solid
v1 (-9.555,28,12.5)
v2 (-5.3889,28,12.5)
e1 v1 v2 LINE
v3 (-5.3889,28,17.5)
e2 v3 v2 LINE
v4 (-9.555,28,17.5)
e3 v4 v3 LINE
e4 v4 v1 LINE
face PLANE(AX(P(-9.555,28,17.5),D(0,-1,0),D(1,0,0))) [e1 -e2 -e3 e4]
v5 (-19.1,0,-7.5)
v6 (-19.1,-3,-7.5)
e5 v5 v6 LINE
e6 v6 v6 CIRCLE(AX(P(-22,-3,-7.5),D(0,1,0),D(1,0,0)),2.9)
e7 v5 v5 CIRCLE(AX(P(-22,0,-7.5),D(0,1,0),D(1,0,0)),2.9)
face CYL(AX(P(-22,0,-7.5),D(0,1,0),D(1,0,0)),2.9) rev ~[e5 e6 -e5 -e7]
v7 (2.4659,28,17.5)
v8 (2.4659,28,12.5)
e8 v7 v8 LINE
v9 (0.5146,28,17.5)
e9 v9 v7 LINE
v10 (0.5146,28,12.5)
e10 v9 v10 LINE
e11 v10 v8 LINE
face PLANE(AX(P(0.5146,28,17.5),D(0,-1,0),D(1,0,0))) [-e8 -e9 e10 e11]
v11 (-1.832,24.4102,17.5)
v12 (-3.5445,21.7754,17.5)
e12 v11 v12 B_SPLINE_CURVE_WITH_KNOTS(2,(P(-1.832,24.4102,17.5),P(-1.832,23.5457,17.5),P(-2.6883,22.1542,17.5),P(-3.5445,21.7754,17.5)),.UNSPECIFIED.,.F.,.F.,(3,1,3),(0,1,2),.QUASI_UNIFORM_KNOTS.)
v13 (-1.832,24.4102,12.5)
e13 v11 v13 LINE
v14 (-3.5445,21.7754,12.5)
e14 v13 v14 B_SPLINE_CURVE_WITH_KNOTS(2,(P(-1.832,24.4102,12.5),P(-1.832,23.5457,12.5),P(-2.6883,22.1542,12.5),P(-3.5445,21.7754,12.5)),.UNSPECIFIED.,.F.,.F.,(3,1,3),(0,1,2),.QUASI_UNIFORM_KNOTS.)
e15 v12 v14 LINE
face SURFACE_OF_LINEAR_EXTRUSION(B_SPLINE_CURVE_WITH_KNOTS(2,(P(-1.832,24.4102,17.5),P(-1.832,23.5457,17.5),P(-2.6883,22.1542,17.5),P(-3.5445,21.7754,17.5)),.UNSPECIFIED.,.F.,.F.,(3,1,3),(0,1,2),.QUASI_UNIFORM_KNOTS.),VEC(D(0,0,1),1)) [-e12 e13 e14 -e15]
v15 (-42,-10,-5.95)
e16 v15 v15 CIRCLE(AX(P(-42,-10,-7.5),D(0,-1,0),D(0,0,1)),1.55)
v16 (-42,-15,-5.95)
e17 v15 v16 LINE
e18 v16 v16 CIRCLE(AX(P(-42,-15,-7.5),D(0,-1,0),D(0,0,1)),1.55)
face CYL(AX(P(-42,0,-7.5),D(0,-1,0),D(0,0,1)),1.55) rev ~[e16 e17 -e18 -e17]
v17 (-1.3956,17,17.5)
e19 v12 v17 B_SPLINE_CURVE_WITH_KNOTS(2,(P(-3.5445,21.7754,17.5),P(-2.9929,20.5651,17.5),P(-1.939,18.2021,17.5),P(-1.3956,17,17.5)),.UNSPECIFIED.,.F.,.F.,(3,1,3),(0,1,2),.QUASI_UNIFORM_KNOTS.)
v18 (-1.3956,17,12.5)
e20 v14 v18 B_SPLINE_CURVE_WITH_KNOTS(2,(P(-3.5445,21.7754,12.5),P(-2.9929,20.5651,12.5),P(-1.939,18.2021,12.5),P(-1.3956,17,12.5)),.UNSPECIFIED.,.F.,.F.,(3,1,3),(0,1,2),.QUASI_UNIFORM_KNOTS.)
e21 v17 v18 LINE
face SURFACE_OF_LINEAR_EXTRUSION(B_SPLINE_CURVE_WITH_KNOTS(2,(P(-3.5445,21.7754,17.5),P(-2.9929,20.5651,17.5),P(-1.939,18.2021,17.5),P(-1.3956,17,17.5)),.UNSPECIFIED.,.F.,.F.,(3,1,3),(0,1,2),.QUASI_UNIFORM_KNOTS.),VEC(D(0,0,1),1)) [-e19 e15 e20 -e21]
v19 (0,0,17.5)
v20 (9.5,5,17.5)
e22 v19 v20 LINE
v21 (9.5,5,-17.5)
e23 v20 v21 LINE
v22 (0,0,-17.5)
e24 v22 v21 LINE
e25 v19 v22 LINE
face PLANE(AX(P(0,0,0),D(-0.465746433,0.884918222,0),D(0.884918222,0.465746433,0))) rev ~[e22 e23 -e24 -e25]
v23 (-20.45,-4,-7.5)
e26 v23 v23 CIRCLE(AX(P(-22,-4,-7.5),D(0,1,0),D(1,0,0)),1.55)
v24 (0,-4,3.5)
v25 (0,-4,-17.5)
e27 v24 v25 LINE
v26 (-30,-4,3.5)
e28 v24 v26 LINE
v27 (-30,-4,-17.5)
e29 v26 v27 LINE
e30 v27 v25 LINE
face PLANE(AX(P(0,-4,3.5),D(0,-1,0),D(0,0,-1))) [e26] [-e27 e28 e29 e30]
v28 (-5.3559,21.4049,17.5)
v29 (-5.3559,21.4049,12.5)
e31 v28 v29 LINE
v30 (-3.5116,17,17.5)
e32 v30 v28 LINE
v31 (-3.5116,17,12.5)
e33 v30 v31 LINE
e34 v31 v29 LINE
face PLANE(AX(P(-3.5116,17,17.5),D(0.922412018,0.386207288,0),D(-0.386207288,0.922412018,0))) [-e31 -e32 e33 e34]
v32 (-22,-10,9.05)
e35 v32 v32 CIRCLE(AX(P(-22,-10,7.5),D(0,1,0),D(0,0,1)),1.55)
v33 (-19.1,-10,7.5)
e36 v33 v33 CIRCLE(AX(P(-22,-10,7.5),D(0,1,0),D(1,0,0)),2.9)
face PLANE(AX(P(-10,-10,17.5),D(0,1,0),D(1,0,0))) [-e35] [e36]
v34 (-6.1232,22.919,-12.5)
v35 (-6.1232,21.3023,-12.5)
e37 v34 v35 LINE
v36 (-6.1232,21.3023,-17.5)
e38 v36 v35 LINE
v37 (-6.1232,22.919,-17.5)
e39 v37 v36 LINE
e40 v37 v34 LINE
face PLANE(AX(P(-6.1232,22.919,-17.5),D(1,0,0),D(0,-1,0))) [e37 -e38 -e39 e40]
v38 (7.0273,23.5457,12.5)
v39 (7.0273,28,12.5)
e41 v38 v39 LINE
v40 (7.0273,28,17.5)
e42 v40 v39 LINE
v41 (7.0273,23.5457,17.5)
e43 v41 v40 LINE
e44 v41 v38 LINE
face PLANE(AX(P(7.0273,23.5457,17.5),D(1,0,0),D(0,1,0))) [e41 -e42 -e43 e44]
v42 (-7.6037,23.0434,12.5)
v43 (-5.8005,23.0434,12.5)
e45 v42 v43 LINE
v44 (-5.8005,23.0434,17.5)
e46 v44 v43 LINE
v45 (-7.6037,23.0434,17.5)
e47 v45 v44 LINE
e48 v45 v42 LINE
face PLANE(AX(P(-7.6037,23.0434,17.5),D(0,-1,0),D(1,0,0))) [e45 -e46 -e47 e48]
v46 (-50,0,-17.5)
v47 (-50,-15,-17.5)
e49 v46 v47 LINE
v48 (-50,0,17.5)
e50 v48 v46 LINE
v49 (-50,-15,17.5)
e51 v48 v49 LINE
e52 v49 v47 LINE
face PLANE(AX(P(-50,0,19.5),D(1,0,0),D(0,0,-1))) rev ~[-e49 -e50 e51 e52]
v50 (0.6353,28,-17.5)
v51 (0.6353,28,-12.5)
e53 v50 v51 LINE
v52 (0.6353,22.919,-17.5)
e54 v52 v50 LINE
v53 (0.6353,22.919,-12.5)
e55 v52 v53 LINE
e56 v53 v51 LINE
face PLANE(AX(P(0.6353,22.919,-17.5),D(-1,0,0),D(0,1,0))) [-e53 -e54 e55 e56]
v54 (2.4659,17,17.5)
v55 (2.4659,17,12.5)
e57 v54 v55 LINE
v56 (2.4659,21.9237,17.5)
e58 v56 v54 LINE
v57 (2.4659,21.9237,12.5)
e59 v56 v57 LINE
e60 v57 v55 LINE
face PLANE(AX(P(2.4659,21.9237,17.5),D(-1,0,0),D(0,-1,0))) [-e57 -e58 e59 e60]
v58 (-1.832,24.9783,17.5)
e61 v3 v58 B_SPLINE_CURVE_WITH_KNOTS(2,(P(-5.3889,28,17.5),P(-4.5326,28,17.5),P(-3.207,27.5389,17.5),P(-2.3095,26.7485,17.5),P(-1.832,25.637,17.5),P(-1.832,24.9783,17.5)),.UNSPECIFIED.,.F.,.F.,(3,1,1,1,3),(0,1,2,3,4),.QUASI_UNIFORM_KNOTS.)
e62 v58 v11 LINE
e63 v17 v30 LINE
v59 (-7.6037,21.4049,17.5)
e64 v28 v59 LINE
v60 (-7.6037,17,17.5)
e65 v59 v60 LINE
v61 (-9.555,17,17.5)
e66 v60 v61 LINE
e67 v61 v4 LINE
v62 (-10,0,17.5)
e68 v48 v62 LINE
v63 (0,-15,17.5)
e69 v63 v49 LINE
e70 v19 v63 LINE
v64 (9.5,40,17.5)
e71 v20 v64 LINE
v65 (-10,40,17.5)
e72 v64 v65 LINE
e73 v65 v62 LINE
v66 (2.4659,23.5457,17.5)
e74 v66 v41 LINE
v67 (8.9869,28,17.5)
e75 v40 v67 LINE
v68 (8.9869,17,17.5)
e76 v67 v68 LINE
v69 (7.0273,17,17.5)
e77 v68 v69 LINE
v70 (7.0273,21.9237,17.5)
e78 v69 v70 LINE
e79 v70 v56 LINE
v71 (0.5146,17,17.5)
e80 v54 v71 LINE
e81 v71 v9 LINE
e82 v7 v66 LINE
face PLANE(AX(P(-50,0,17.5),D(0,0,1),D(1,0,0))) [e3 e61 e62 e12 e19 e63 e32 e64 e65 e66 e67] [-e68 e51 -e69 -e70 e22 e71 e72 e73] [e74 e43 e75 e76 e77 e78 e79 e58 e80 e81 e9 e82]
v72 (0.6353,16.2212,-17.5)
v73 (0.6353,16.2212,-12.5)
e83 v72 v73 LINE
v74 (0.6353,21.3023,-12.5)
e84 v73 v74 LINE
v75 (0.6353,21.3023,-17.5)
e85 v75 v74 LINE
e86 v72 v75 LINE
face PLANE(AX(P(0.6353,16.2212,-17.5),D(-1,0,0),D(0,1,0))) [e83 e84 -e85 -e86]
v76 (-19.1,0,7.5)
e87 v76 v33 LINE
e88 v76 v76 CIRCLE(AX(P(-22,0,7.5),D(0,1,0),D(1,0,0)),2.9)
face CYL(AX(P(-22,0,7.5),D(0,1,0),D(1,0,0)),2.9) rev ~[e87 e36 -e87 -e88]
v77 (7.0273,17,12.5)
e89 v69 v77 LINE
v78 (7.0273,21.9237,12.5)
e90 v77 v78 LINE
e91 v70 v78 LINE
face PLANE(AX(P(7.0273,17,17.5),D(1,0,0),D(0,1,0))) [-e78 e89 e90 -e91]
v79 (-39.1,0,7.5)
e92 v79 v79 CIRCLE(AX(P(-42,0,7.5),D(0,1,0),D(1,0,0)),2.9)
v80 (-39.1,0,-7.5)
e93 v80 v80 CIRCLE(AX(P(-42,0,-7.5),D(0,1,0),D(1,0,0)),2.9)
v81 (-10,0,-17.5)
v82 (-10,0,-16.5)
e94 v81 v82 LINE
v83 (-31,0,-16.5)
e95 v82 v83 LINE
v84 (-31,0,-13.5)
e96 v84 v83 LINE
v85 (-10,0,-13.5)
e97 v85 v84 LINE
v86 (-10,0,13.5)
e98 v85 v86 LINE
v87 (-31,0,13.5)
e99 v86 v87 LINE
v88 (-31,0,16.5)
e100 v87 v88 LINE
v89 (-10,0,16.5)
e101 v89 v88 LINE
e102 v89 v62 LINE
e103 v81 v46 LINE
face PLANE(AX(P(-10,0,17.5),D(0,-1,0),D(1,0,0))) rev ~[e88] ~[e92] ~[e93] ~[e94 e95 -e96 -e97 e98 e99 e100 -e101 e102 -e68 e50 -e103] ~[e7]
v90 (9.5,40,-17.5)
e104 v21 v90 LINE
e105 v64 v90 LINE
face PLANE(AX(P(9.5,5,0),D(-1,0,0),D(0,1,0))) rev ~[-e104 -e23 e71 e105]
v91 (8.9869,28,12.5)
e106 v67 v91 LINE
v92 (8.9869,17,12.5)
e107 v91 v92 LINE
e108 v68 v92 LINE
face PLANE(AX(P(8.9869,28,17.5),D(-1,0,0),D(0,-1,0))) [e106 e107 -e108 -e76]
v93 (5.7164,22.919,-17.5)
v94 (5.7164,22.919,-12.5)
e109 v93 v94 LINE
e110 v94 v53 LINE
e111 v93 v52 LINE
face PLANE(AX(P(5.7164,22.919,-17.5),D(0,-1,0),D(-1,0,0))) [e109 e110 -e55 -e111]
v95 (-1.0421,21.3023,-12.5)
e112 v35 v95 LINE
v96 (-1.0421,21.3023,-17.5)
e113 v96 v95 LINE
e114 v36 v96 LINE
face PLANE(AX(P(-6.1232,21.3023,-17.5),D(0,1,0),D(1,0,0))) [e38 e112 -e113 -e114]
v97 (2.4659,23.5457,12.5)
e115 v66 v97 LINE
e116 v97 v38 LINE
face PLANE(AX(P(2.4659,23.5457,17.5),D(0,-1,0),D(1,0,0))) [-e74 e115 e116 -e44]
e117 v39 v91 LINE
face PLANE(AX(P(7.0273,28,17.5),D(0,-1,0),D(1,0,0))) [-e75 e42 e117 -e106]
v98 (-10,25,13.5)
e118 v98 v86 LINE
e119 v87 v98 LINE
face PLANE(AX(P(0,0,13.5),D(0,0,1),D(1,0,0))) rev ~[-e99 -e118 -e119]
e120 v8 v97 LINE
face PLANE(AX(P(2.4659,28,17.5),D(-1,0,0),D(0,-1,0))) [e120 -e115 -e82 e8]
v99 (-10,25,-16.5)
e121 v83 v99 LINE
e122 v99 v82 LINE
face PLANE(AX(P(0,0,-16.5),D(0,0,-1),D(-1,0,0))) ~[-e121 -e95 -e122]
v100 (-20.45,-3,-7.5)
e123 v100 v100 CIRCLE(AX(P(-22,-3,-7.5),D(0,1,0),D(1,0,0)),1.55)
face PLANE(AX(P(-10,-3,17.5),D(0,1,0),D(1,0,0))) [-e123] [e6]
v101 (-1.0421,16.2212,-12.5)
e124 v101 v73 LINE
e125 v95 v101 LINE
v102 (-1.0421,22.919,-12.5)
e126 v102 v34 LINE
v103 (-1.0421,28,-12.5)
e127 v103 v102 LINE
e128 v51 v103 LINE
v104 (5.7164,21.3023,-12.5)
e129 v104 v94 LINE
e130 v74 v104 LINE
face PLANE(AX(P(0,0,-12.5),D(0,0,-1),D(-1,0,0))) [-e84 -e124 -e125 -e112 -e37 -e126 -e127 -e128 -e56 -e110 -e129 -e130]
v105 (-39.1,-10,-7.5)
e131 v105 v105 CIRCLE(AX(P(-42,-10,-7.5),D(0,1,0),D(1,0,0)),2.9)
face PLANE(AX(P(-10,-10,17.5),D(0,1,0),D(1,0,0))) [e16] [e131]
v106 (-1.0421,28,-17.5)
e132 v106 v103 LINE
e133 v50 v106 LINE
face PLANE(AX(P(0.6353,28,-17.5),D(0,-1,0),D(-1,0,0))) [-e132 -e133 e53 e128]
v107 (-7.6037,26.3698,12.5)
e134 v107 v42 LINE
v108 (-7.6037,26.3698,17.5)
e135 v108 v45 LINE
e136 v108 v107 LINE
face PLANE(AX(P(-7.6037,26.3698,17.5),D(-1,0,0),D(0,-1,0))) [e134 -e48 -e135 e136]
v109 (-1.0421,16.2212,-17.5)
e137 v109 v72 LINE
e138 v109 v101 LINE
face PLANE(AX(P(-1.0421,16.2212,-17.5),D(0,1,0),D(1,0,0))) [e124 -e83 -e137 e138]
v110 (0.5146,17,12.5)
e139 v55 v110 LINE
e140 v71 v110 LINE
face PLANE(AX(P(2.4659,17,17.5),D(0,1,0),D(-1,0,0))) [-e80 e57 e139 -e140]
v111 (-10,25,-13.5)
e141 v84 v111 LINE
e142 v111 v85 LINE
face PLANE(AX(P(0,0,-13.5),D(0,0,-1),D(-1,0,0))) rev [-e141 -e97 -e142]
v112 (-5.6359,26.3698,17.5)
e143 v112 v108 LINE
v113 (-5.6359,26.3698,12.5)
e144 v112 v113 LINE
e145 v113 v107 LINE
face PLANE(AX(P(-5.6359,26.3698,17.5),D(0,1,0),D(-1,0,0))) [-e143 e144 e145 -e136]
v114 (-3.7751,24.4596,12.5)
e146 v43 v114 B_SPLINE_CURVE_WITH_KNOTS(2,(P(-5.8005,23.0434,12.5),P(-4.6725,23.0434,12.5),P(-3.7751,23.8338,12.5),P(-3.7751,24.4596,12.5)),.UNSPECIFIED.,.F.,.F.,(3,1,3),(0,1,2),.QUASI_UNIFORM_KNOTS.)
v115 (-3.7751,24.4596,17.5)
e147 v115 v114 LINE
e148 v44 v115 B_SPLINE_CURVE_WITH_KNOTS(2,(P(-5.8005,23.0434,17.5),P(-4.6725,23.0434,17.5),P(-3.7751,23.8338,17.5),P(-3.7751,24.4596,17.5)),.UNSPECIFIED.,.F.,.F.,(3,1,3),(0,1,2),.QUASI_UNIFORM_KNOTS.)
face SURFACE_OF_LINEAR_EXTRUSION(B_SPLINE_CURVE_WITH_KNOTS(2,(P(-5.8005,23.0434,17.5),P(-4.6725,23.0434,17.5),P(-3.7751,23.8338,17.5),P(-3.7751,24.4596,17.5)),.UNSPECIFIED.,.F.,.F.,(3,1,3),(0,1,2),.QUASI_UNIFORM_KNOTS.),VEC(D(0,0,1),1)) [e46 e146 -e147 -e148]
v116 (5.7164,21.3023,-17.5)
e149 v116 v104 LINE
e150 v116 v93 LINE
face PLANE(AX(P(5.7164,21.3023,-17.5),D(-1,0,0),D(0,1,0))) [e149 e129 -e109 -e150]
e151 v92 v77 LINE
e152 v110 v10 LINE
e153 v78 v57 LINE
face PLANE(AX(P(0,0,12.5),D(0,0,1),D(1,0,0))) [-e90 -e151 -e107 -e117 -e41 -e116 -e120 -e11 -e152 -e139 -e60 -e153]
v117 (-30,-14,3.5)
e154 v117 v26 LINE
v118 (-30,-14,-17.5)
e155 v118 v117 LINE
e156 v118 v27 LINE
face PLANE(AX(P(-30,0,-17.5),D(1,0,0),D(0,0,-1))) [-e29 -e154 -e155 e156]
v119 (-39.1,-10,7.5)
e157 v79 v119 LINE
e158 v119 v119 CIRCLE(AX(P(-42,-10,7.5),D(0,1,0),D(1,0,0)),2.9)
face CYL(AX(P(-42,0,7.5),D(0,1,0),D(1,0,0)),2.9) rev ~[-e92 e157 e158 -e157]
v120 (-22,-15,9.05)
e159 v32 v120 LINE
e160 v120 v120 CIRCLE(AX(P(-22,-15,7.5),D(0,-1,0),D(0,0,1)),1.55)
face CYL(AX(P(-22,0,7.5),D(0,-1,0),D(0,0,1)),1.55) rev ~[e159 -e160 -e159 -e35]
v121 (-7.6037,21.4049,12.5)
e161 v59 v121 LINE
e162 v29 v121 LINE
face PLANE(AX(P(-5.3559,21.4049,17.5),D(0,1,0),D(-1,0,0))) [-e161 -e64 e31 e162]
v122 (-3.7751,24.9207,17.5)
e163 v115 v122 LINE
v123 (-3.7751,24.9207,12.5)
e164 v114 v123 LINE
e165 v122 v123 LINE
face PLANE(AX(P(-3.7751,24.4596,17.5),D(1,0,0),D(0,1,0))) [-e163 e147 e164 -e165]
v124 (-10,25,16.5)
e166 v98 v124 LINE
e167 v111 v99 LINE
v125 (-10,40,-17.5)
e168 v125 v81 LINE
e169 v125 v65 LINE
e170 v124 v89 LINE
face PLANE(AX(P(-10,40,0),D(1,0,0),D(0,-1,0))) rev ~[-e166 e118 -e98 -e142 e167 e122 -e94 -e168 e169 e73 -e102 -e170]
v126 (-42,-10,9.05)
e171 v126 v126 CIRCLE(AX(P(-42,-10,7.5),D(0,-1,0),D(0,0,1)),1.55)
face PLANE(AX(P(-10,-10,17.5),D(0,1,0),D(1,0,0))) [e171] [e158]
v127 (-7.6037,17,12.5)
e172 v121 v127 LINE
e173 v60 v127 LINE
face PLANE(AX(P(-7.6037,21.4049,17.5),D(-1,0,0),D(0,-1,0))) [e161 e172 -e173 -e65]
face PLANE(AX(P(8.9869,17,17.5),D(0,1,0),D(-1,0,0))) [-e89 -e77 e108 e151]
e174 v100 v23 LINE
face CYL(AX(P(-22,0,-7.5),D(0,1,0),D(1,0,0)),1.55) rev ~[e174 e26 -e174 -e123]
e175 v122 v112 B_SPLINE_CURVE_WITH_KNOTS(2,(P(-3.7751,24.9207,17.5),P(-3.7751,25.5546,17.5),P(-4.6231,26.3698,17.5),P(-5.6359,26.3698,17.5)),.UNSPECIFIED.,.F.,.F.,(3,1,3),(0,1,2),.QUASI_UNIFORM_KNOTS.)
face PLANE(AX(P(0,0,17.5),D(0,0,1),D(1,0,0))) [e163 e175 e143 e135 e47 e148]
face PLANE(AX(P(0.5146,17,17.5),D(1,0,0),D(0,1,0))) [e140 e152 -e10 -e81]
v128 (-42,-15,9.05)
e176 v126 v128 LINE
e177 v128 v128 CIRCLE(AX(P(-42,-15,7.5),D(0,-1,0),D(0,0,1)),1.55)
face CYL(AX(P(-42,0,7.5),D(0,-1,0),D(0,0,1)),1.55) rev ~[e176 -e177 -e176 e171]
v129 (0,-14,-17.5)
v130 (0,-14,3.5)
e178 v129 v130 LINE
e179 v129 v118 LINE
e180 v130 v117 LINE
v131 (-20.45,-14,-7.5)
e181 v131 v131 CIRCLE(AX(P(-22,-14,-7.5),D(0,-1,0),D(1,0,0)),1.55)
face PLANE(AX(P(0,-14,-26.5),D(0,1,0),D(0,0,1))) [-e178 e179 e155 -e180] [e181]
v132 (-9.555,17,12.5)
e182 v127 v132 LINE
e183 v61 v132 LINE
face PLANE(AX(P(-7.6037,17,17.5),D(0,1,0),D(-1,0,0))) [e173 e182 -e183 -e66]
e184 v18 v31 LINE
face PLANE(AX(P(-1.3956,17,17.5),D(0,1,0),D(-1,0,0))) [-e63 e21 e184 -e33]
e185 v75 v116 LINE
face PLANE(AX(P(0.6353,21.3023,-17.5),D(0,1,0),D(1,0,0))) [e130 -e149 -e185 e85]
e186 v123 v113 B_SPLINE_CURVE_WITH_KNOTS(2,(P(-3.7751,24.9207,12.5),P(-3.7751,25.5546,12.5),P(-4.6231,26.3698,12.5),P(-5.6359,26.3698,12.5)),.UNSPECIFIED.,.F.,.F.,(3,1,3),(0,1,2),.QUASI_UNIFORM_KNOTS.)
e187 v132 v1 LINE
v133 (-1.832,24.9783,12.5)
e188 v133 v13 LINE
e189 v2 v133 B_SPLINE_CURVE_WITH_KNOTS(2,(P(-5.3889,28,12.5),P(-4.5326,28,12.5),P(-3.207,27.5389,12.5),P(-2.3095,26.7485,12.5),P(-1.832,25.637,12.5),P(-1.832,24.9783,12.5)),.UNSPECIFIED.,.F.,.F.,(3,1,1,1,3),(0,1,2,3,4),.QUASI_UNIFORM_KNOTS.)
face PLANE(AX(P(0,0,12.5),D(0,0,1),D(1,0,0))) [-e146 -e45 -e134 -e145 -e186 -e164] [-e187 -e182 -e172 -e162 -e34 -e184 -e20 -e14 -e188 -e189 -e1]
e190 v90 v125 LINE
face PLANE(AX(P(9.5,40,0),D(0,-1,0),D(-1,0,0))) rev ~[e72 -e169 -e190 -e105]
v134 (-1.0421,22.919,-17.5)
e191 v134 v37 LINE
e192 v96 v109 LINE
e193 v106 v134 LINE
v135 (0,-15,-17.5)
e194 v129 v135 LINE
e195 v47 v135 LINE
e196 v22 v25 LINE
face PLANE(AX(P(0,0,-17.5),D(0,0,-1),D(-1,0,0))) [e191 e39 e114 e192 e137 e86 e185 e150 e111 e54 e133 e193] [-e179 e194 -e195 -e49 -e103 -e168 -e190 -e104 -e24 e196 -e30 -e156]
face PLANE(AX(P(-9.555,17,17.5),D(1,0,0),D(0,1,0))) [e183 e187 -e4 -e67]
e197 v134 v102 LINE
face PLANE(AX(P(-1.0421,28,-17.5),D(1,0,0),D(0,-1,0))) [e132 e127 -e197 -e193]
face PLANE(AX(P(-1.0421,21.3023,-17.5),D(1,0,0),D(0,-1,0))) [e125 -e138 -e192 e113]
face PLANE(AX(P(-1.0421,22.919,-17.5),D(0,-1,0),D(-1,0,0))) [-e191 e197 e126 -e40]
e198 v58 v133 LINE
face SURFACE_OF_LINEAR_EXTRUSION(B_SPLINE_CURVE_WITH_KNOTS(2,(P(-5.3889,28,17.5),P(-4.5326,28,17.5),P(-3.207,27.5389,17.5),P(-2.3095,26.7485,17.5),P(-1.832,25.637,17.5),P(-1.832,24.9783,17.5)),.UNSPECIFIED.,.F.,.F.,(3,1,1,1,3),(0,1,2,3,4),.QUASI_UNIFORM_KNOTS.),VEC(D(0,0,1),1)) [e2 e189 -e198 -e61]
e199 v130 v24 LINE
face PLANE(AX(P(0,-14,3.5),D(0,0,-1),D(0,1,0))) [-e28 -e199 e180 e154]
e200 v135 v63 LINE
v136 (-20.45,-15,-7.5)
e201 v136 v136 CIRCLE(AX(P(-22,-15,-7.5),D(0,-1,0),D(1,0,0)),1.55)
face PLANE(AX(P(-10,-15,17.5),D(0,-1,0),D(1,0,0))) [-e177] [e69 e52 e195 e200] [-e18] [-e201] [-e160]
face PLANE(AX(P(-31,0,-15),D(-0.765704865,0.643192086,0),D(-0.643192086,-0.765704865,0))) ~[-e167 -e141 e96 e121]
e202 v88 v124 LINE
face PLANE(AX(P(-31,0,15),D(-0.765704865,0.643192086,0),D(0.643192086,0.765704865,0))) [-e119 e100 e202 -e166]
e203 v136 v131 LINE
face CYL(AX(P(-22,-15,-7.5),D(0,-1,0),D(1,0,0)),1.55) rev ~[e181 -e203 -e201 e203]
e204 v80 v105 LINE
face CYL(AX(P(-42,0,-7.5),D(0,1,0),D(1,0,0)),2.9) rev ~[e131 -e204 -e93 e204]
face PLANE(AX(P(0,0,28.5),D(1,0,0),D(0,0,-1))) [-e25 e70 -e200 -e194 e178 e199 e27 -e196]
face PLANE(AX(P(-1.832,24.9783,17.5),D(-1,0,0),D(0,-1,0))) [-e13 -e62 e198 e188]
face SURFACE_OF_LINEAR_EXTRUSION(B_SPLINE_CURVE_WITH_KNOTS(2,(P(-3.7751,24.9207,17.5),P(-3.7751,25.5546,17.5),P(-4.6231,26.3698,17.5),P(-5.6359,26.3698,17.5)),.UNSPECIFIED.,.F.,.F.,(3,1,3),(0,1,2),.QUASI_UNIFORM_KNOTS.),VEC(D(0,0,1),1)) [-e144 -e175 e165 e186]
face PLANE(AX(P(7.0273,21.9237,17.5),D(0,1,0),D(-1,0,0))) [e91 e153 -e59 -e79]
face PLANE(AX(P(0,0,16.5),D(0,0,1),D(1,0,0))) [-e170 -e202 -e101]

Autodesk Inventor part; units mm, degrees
ref_plane "YZ Plane" through (0, 0, 0) normal (1, 0, 0) x (0, 1, 0)
ref_plane "XZ Plane" through (0, 0, 0) normal (0, 1, 0) x (-1, 0, 0)
sketch "Sketch1" plane through (0, 0, 0) normal (0, 0, 1) x (1, 0, 0)
  line L0 (-10, 40) -> (-10, 0)
  line L1 (-10, 0) -> (0, 0)
  line L2 (0, 0) -> (9.5, 5)
  line L3 (9.5, 5) -> (9.5, 40)
  line L4 (9.5, 40) -> (-10, 40)
  dimension "d0" = 40
  dimension "d2" = 10
  dimension "d55" = 9.5
  dimension "d57" = 35
extrude "Extrusion1" add sketch "Sketch1" along normal mid plane 35
ref_plane "Work Plane1" through (0, 0, 15) normal (0, 0, 1) x (1, 0, 0)
sketch "Sketch2" plane through (0, 0, 15) normal (0, 0, 1) x (1, 0, 0)
  line L0 (-10, 40) -> (-10, 0) projected
  line L1 (-10, 0) -> (0, 0) projected
  line L2 (-10, 0) -> (-31, 0)
  line L3 (-10, 0) -> (11, 0) construction
  line L4 (0, 0) -> (9.5, 5) projected
  line L5 (9.5, 5) -> (9.5, 40) projected
  line L6 (9.5, 40) -> (-10, 40) projected
  line L7 (-31, 0) -> (-10, 25)
  line L8 (-10, 0) -> (-10, 25)
  dimension "d9" = 21
  dimension "d10" = 180
  dimension "d88" = 25
extrude "Extrusion2" add sketch "Sketch2" along normal mid plane 3 contours L0 L2 L7
mirror "Mirror1" about plane through (0, 0, 0) normal (0, 0, 1) of "Extrusion2"
sketch "Sketch3" plane through (-10, 0, 17.5) normal (0, -1, 0) x (1, 0, 0)
  line L0 (-40, 2) -> (-15.2727, 11)
  line L1 (-15.2727, 11) -> (10, 11)
  line L2 (10, 11) -> (10, -46)
  line L3 (-40, 2) -> (-40, -37)
  line L4 (-40, -37) -> (-15.2727, -46)
  line L5 (-15.2727, -46) -> (10, -46)
  line L6 (10, -35) -> (10, 0) projected
  line L7 (10, -35) -> (10, 0) projected
  line L8 (0, 0) -> (0, -1) projected
  line L9 (10, -35) -> (0, -35) projected
  line L10 (0, 0) -> (10, 0) projected
  line L11 (-21, -1) -> (0, -1) projected
  line L12 (-21, -4) -> (-21, -1) projected
  line L13 (0, -4) -> (-21, -4) projected
  line L14 (0, -4) -> (0, -31) projected
  line L15 (0, -31) -> (-21, -31) projected
  line L16 (-21, -31) -> (-21, -34) projected
  line L17 (-21, -34) -> (0, -34) projected
  line L18 (0, -34) -> (0, -35) projected
  point P0 (10, -17.5)
  point P1 (-2.6364, 11)
  point P2 (10, -17.5)
  point P3 (10, -17.5)
  point P4 (10, -17.5)
  point P5 (-2.6364, -46)
  point P6 (-40, -17.5)
  point P7 (10, -17.5)
  point P8 (10, -35)
  point P9 (10, 0)
  dimension "d17" = 57
  dimension "d18" = 39
  dimension "d19" = 9
  dimension "d20" = 9
  dimension "d21" = 50
  dimension "d76" = 110
extrude "Extrusion3" add sketch "Sketch3" along normal blind 15
sketch "Sketch4" plane through (-10, 0, 17.5) normal (0, 1, 0) x (1, 0, 0)
  line L0 (10, 17.5) -> (-48, 17.5) construction
  line L1 (-32, 10) -> (-12, 10) construction
  line L2 (-32, 25) -> (-32, 10) construction
  line L3 (10, 35) -> (0, 35) projected
  line L4 (10, 46) -> (10, 35) projected
  line L5 (-15.2727, 46) -> (10, 46) projected
  line L6 (-40, 37) -> (-15.2727, 46) projected
  line L7 (-40, -2) -> (-40, 37) projected
  line L8 (-15.2727, -11) -> (-40, -2) projected
  line L9 (10, -11) -> (-15.2727, -11) projected
  line L10 (10, 0) -> (10, -11) projected
  line L11 (0, 0) -> (10, 0) projected
  line L12 (0, 0) -> (0, 1) projected
  line L13 (-21, 1) -> (0, 1) projected
  line L14 (-21, 4) -> (-21, 1) projected
  line L15 (0, 4) -> (-21, 4) projected
  line L16 (0, 4) -> (0, 31) projected
  line L17 (0, 31) -> (-21, 31) projected
  line L18 (-21, 31) -> (-21, 34) projected
  line L19 (-21, 34) -> (0, 34) projected
  line L20 (0, 34) -> (0, 35) projected
  point P0 (-32, 17.5)
  point P1 (-19, 17.5)
  dimension "d26" = 20
  dimension "d27" = 15
  dimension "d58" = 13
  dimension "d59" = 8
hole "Hole1" at (-42, 0, 7.5) at (-22, 0, 7.5) at (-42, 0, -7.5) direction (0, -1, 0) diameter 3.1 end through all
sketch "Sketch5" plane through (0, 0, -17.5) normal (1, 0, 0) x (0, 0, -1)
  line L0 (11, 0) -> (0, 0) projected
  line L1 (-35, 0) -> (-46, 0) projected
  line L2 (-46, 0) -> (-46, -15) projected
  line L3 (11, -15) -> (-46, -15) projected
  line L4 (11, 0) -> (11, -15) projected
  line L5 (-46, 0) -> (-46, -15) projected
  line L6 (-21, -4) -> (9, -4)
  line L7 (9, -4) -> (9, -14)
  line L8 (9, -14) -> (-21, -14)
  line L9 (-21, -14) -> (-21, -4)
  line L10 (0, 0) -> (-35, 0) projected
  point P0 (-17.5, 0)
  point P1 (-17.5, 0)
  point P2 (-46, -7.5)
  point P3 (-46, -7.5)
  point P4 (11, -12.5)
  point P5 (11, -2.5)
  dimension "d46" = 30
  dimension "d47" = 10
  dimension "d48" = 2
  dimension "d49" = 4
extrude "Extrusion4" cut sketch "Sketch5" against normal blind 30 contours L6 L7 L8 L9
sketch "Sketch6" plane through (-10, 0, 17.5) normal (0, 1, 0) x (1, 0, 0)
  circle A0 centre (-32, 25) radius 1.55 projected
  circle A1 centre (-12, 10) radius 1.55 projected
  circle A2 centre (-32, 10) radius 1.55 projected
  line L0 (10, 35) -> (0, 35) projected
  line L1 (10, 46) -> (10, 35) projected
  line L2 (-15.2727, 46) -> (10, 46) projected
  line L3 (-40, 37) -> (-15.2727, 46) projected
  line L4 (-40, -2) -> (-40, 37) projected
  line L5 (-15.2727, -11) -> (-40, -2) projected
  line L6 (10, -11) -> (-15.2727, -11) projected
  line L7 (10, 0) -> (10, -11) projected
  line L8 (0, 0) -> (10, 0) projected
  line L9 (0, 0) -> (0, 1) projected
  circle A3 centre (-12, 25) radius 2.9
  line L10 (-21, 1) -> (0, 1) projected
  line L11 (-21, 4) -> (-21, 1) projected
  line L12 (0, 4) -> (-21, 4) projected
  line L13 (0, 4) -> (0, 31) projected
  line L14 (0, 31) -> (-21, 31) projected
  line L15 (-21, 31) -> (-21, 34) projected
  line L16 (-21, 34) -> (0, 34) projected
  line L17 (0, 34) -> (0, 35) projected
  point P0 (10, 17.5)
  dimension "d41" = 5.8
  dimension "d42" = 20
  dimension "d43" = 15
extrude "Extrusion5" cut sketch "Sketch6" against normal blind 3 contours A3
sketch "Sketch7" plane through (-10, -15, 17.5) normal (0, -1, 0) x (1, 0, 0)
  circle A0 centre (-12, -25) radius 1.55
  circle A1 centre (-32, -25) radius 1.55 projected
  circle A2 centre (-12, -10) radius 1.55 projected
  circle A3 centre (-32, -10) radius 1.55 projected
  line L0 (10, -46) -> (10, 11) projected
  line L1 (10, 11) -> (-15.2727, 11) projected
  line L2 (-15.2727, 11) -> (-40, 2) projected
  line L3 (-40, 2) -> (-40, -37) projected
  line L4 (-40, -37) -> (-15.2727, -46) projected
  line L5 (-15.2727, -46) -> (10, -46) projected
  point P0 (10, -17.5)
  dimension "d50" = 15
  dimension "d51" = 20
  dimension "d52" = 3.1
extrude "Extrusion6" cut sketch "Sketch7" against normal up to surface (1 mm away) contours A0
sketch "Sketch8" plane through (0, 0, 17.5) normal (0, 0, 1) x (1, 0, 0)
  line L0 (-10, 0) -> (0, 0) projected
  line L1 (0, 0) -> (9.5, 5) projected
  line L2 (9.5, 5) -> (9.5, 40) projected
  line L3 (9.5, 40) -> (-10, 40) projected
  line L4 (-10, 40) -> (-10, 0) projected
  line L5 (-10.7901, 28) -> (5, 28) construction
  line L6 (5, 28) -> (5, 11.9362) construction
  line L7 (5, 11.9362) -> (-10.7901, 11.9362) construction
  line L8 (-10.7901, 11.9362) -> (-10.7901, 28) construction
  line L9 (-5.3559, 21.4049) -> (-7.6037, 21.4049)
  line L10 (-7.6037, 21.4049) -> (-7.6037, 17)
  line L11 (-7.6037, 17) -> (-9.555, 17)
  line L12 (-9.555, 17) -> (-9.555, 28)
  line L13 (-9.555, 28) -> (-5.3889, 28)
  spline S0 degree 2 poles (-5.3889, 28) (-4.5326, 28) (-3.207, 27.5389) (-2.3095, 26.7485) (-1.832, 25.637) (-1.832, 24.9783) knots 0 0 0 1 2 3 4 4 4
  line L14 (-1.832, 24.9783) -> (-1.832, 24.4102)
  spline S1 degree 2 poles (-1.832, 24.4102) (-1.832, 23.5457) (-2.6883, 22.1542) (-3.5445, 21.7754) knots 0 0 0 1 2 2 2
  spline S2 degree 2 poles (-3.5445, 21.7754) (-2.9929, 20.5651) (-1.939, 18.2021) (-1.3956, 17) knots 0 0 0 1 2 2 2
  line L15 (-1.3956, 17) -> (-3.5116, 17)
  line L16 (-3.5116, 17) -> (-5.3559, 21.4049)
  line L17 (-7.6037, 26.3698) -> (-7.6037, 23.0434)
  line L18 (-7.6037, 23.0434) -> (-5.8005, 23.0434)
  spline S3 degree 2 poles (-5.8005, 23.0434) (-4.6725, 23.0434) (-3.7751, 23.8338) (-3.7751, 24.4596) knots 0 0 0 1 2 2 2
  line L19 (-3.7751, 24.4596) -> (-3.7751, 24.9207)
  spline S4 degree 2 poles (-3.7751, 24.9207) (-3.7751, 25.5546) (-4.6231, 26.3698) (-5.6359, 26.3698) knots 0 0 0 1 2 2 2
  line L20 (-5.6359, 26.3698) -> (-7.6037, 26.3698)
  line L21 (7.0273, 21.9237) -> (2.4659, 21.9237)
  line L22 (2.4659, 21.9237) -> (2.4659, 17)
  line L23 (2.4659, 17) -> (0.5146, 17)
  line L24 (0.5146, 17) -> (0.5146, 28)
  line L25 (0.5146, 28) -> (2.4659, 28)
  line L26 (2.4659, 28) -> (2.4659, 23.5457)
  line L27 (2.4659, 23.5457) -> (7.0273, 23.5457)
  line L28 (7.0273, 23.5457) -> (7.0273, 28)
  line L29 (7.0273, 28) -> (8.9869, 28)
  line L30 (8.9869, 28) -> (8.9869, 17)
  line L31 (8.9869, 17) -> (7.0273, 17)
  line L32 (7.0273, 17) -> (7.0273, 21.9237)
  point P0 (-7, 15)
  dimension "d68" = 12
  dimension "d69" = 15
extrude "Extrusion7" cut sketch "Sketch8" against normal blind 5 contours L9 L10 L11 L12 L13 S0 L14 S1 S2 L15 L16 | L21 L22 L23 L24 L25 L26 L27 L28 L29 L30 L31 L32
sketch "Sketch9" plane through (0, 0, -17.5) normal (0, 0, -1) x (-1, 0, 0)
  line L0 (-0.5146, 17) -> (-0.5146, 28) projected
  line L1 (0, 0) -> (10, 0) projected
  line L2 (10, 0) -> (10, 40) projected
  line L3 (10, 40) -> (-9.5, 40) projected
  line L4 (-9.5, 40) -> (-9.5, 5) projected
  line L5 (-9.5, 5) -> (0, 0) projected
  line L6 (-7.3088, 28) -> (-3.8059, 28) construction
  line L7 (-3.8059, 28) -> (-3.8059, 25.5662) construction
  line L8 (-3.8059, 25.5662) -> (-7.3088, 25.5662) construction
  line L9 (-7.3088, 25.5662) -> (-7.3088, 28) construction
  line L10 (5.5, 50.4054) -> (5.5, 41.2692)
  line L11 (6.1232, 21.3023) -> (1.0421, 21.3023)
  line L12 (1.0421, 21.3023) -> (1.0421, 16.2212)
  line L13 (1.0421, 16.2212) -> (-0.6353, 16.2212)
  line L14 (-0.6353, 16.2212) -> (-0.6353, 21.3023)
  line L15 (-0.6353, 21.3023) -> (-5.7164, 21.3023)
  line L16 (-5.7164, 21.3023) -> (-5.7164, 22.919)
  line L17 (-5.7164, 22.919) -> (-0.6353, 22.919)
  line L18 (-0.6353, 22.919) -> (-0.6353, 28)
  line L19 (-0.6353, 28) -> (1.0421, 28)
  line L20 (1.0421, 28) -> (1.0421, 22.919)
  line L21 (1.0421, 22.919) -> (6.1232, 22.919)
  line L22 (6.1232, 22.919) -> (6.1232, 21.3023)
  dimension "d72" = 12
  dimension "d73" = 15
extrude "Extrusion8" cut sketch "Sketch9" against normal blind 5 contours L11 L12 L13 L14 L15 L16 L17 L18 L19 L20 L21 L22
sketch "Sketch10" plane through (-10, 0, 17.5) normal (0, 1, 0) x (1, 0, 0)
  line L0 (-39.35, 19.5) -> (-4.65, 19.5) projected
  circle A0 centre (-32, 25) radius 1.55 projected
  circle A1 centre (-32, 10) radius 1.55 projected
  circle A2 centre (-12, 10) radius 1.55 projected
  circle A3 centre (-32, 25) radius 2.9
  circle A4 centre (-32, 10) radius 2.9
  circle A5 centre (-12, 10) radius 2.9
  point P0 (10, 17.5)
  dimension "d77" = 5.8
  dimension "d78" = 5.8
  dimension "d79" = 5.8
extrude "Extrusion9" cut sketch "Sketch10" against normal blind 10 contours A0 | A1 | A3 | A4 | A5
sketch "Sketch12" plane through (-10, 0, 17.5) normal (0, 1, 0) x (1, 0, 0)
  circle A0 centre (-12, 25) radius 2.9 projected
  circle A1 centre (-12, 25) radius 1.55
  point P0 (10, 17.5)
  dimension "d85" = 3.1
extrude "Extrusion11" cut sketch "Sketch12" against normal blind 4 contours A1
sketch "Sketch13" plane through (-10, 0, 17.5) normal (0, 1, 0) x (1, 0, 0)
  circle A0 centre (-12, 10) radius 2.9 projected
  circle A1 centre (-32, 25) radius 2.9 projected
  circle A2 centre (-32, 10) radius 2.9 projected
  circle A3 centre (-12, 25) radius 2.9 projected
  line L0 (10, 35) -> (0, 35) projected
  line L1 (10, 46) -> (10, 35) projected
  line L2 (-15.2727, 46) -> (10, 46) projected
  line L3 (-40, 37) -> (-15.2727, 46) projected
  line L4 (-40, -2) -> (-40, 37) projected
  line L5 (-15.2727, -11) -> (-40, -2) projected
  line L6 (10, -11) -> (-15.2727, -11) projected
  line L7 (10, 0) -> (10, -11) projected
  line L8 (0, 0) -> (10, 0) projected
  line L9 (0, 0) -> (0, 1) projected
  line L10 (-21, 1) -> (0, 1) projected
  line L11 (-21, 4) -> (-21, 1) projected
  line L12 (0, 4) -> (-21, 4) projected
  line L13 (0, 4) -> (0, 31) projected
  line L14 (0, 31) -> (-21, 31) projected
  line L15 (-21, 31) -> (-21, 34) projected
  line L16 (-21, 34) -> (0, 34) projected
  line L17 (0, 34) -> (0, 35) projected
  line L18 (10, -11) -> (-40, -11)
  line L19 (-40, -11) -> (-40, 0)
  line L20 (-40, 0) -> (10, 0)
  line L21 (10, 0) -> (10, -11)
  line L22 (10, 46) -> (-40, 46)
  line L23 (-40, 46) -> (-40, 35)
  line L24 (-40, 35) -> (10, 35)
  line L25 (10, 35) -> (10, 46)
  point P0 (10, 17.5)
  point P1 (10, 40.5)
  point P2 (-40, 35)
  dimension "d89" = 11
  dimension "d92" = 11
  dimension "d93" = 50
extrude "Extrusion12" cut sketch "Sketch13" against normal blind 30 contours L0 L24 L4 L3 L2 L1 | L20 L8 L7 L6 L5 L4
properties part number "gripper"
